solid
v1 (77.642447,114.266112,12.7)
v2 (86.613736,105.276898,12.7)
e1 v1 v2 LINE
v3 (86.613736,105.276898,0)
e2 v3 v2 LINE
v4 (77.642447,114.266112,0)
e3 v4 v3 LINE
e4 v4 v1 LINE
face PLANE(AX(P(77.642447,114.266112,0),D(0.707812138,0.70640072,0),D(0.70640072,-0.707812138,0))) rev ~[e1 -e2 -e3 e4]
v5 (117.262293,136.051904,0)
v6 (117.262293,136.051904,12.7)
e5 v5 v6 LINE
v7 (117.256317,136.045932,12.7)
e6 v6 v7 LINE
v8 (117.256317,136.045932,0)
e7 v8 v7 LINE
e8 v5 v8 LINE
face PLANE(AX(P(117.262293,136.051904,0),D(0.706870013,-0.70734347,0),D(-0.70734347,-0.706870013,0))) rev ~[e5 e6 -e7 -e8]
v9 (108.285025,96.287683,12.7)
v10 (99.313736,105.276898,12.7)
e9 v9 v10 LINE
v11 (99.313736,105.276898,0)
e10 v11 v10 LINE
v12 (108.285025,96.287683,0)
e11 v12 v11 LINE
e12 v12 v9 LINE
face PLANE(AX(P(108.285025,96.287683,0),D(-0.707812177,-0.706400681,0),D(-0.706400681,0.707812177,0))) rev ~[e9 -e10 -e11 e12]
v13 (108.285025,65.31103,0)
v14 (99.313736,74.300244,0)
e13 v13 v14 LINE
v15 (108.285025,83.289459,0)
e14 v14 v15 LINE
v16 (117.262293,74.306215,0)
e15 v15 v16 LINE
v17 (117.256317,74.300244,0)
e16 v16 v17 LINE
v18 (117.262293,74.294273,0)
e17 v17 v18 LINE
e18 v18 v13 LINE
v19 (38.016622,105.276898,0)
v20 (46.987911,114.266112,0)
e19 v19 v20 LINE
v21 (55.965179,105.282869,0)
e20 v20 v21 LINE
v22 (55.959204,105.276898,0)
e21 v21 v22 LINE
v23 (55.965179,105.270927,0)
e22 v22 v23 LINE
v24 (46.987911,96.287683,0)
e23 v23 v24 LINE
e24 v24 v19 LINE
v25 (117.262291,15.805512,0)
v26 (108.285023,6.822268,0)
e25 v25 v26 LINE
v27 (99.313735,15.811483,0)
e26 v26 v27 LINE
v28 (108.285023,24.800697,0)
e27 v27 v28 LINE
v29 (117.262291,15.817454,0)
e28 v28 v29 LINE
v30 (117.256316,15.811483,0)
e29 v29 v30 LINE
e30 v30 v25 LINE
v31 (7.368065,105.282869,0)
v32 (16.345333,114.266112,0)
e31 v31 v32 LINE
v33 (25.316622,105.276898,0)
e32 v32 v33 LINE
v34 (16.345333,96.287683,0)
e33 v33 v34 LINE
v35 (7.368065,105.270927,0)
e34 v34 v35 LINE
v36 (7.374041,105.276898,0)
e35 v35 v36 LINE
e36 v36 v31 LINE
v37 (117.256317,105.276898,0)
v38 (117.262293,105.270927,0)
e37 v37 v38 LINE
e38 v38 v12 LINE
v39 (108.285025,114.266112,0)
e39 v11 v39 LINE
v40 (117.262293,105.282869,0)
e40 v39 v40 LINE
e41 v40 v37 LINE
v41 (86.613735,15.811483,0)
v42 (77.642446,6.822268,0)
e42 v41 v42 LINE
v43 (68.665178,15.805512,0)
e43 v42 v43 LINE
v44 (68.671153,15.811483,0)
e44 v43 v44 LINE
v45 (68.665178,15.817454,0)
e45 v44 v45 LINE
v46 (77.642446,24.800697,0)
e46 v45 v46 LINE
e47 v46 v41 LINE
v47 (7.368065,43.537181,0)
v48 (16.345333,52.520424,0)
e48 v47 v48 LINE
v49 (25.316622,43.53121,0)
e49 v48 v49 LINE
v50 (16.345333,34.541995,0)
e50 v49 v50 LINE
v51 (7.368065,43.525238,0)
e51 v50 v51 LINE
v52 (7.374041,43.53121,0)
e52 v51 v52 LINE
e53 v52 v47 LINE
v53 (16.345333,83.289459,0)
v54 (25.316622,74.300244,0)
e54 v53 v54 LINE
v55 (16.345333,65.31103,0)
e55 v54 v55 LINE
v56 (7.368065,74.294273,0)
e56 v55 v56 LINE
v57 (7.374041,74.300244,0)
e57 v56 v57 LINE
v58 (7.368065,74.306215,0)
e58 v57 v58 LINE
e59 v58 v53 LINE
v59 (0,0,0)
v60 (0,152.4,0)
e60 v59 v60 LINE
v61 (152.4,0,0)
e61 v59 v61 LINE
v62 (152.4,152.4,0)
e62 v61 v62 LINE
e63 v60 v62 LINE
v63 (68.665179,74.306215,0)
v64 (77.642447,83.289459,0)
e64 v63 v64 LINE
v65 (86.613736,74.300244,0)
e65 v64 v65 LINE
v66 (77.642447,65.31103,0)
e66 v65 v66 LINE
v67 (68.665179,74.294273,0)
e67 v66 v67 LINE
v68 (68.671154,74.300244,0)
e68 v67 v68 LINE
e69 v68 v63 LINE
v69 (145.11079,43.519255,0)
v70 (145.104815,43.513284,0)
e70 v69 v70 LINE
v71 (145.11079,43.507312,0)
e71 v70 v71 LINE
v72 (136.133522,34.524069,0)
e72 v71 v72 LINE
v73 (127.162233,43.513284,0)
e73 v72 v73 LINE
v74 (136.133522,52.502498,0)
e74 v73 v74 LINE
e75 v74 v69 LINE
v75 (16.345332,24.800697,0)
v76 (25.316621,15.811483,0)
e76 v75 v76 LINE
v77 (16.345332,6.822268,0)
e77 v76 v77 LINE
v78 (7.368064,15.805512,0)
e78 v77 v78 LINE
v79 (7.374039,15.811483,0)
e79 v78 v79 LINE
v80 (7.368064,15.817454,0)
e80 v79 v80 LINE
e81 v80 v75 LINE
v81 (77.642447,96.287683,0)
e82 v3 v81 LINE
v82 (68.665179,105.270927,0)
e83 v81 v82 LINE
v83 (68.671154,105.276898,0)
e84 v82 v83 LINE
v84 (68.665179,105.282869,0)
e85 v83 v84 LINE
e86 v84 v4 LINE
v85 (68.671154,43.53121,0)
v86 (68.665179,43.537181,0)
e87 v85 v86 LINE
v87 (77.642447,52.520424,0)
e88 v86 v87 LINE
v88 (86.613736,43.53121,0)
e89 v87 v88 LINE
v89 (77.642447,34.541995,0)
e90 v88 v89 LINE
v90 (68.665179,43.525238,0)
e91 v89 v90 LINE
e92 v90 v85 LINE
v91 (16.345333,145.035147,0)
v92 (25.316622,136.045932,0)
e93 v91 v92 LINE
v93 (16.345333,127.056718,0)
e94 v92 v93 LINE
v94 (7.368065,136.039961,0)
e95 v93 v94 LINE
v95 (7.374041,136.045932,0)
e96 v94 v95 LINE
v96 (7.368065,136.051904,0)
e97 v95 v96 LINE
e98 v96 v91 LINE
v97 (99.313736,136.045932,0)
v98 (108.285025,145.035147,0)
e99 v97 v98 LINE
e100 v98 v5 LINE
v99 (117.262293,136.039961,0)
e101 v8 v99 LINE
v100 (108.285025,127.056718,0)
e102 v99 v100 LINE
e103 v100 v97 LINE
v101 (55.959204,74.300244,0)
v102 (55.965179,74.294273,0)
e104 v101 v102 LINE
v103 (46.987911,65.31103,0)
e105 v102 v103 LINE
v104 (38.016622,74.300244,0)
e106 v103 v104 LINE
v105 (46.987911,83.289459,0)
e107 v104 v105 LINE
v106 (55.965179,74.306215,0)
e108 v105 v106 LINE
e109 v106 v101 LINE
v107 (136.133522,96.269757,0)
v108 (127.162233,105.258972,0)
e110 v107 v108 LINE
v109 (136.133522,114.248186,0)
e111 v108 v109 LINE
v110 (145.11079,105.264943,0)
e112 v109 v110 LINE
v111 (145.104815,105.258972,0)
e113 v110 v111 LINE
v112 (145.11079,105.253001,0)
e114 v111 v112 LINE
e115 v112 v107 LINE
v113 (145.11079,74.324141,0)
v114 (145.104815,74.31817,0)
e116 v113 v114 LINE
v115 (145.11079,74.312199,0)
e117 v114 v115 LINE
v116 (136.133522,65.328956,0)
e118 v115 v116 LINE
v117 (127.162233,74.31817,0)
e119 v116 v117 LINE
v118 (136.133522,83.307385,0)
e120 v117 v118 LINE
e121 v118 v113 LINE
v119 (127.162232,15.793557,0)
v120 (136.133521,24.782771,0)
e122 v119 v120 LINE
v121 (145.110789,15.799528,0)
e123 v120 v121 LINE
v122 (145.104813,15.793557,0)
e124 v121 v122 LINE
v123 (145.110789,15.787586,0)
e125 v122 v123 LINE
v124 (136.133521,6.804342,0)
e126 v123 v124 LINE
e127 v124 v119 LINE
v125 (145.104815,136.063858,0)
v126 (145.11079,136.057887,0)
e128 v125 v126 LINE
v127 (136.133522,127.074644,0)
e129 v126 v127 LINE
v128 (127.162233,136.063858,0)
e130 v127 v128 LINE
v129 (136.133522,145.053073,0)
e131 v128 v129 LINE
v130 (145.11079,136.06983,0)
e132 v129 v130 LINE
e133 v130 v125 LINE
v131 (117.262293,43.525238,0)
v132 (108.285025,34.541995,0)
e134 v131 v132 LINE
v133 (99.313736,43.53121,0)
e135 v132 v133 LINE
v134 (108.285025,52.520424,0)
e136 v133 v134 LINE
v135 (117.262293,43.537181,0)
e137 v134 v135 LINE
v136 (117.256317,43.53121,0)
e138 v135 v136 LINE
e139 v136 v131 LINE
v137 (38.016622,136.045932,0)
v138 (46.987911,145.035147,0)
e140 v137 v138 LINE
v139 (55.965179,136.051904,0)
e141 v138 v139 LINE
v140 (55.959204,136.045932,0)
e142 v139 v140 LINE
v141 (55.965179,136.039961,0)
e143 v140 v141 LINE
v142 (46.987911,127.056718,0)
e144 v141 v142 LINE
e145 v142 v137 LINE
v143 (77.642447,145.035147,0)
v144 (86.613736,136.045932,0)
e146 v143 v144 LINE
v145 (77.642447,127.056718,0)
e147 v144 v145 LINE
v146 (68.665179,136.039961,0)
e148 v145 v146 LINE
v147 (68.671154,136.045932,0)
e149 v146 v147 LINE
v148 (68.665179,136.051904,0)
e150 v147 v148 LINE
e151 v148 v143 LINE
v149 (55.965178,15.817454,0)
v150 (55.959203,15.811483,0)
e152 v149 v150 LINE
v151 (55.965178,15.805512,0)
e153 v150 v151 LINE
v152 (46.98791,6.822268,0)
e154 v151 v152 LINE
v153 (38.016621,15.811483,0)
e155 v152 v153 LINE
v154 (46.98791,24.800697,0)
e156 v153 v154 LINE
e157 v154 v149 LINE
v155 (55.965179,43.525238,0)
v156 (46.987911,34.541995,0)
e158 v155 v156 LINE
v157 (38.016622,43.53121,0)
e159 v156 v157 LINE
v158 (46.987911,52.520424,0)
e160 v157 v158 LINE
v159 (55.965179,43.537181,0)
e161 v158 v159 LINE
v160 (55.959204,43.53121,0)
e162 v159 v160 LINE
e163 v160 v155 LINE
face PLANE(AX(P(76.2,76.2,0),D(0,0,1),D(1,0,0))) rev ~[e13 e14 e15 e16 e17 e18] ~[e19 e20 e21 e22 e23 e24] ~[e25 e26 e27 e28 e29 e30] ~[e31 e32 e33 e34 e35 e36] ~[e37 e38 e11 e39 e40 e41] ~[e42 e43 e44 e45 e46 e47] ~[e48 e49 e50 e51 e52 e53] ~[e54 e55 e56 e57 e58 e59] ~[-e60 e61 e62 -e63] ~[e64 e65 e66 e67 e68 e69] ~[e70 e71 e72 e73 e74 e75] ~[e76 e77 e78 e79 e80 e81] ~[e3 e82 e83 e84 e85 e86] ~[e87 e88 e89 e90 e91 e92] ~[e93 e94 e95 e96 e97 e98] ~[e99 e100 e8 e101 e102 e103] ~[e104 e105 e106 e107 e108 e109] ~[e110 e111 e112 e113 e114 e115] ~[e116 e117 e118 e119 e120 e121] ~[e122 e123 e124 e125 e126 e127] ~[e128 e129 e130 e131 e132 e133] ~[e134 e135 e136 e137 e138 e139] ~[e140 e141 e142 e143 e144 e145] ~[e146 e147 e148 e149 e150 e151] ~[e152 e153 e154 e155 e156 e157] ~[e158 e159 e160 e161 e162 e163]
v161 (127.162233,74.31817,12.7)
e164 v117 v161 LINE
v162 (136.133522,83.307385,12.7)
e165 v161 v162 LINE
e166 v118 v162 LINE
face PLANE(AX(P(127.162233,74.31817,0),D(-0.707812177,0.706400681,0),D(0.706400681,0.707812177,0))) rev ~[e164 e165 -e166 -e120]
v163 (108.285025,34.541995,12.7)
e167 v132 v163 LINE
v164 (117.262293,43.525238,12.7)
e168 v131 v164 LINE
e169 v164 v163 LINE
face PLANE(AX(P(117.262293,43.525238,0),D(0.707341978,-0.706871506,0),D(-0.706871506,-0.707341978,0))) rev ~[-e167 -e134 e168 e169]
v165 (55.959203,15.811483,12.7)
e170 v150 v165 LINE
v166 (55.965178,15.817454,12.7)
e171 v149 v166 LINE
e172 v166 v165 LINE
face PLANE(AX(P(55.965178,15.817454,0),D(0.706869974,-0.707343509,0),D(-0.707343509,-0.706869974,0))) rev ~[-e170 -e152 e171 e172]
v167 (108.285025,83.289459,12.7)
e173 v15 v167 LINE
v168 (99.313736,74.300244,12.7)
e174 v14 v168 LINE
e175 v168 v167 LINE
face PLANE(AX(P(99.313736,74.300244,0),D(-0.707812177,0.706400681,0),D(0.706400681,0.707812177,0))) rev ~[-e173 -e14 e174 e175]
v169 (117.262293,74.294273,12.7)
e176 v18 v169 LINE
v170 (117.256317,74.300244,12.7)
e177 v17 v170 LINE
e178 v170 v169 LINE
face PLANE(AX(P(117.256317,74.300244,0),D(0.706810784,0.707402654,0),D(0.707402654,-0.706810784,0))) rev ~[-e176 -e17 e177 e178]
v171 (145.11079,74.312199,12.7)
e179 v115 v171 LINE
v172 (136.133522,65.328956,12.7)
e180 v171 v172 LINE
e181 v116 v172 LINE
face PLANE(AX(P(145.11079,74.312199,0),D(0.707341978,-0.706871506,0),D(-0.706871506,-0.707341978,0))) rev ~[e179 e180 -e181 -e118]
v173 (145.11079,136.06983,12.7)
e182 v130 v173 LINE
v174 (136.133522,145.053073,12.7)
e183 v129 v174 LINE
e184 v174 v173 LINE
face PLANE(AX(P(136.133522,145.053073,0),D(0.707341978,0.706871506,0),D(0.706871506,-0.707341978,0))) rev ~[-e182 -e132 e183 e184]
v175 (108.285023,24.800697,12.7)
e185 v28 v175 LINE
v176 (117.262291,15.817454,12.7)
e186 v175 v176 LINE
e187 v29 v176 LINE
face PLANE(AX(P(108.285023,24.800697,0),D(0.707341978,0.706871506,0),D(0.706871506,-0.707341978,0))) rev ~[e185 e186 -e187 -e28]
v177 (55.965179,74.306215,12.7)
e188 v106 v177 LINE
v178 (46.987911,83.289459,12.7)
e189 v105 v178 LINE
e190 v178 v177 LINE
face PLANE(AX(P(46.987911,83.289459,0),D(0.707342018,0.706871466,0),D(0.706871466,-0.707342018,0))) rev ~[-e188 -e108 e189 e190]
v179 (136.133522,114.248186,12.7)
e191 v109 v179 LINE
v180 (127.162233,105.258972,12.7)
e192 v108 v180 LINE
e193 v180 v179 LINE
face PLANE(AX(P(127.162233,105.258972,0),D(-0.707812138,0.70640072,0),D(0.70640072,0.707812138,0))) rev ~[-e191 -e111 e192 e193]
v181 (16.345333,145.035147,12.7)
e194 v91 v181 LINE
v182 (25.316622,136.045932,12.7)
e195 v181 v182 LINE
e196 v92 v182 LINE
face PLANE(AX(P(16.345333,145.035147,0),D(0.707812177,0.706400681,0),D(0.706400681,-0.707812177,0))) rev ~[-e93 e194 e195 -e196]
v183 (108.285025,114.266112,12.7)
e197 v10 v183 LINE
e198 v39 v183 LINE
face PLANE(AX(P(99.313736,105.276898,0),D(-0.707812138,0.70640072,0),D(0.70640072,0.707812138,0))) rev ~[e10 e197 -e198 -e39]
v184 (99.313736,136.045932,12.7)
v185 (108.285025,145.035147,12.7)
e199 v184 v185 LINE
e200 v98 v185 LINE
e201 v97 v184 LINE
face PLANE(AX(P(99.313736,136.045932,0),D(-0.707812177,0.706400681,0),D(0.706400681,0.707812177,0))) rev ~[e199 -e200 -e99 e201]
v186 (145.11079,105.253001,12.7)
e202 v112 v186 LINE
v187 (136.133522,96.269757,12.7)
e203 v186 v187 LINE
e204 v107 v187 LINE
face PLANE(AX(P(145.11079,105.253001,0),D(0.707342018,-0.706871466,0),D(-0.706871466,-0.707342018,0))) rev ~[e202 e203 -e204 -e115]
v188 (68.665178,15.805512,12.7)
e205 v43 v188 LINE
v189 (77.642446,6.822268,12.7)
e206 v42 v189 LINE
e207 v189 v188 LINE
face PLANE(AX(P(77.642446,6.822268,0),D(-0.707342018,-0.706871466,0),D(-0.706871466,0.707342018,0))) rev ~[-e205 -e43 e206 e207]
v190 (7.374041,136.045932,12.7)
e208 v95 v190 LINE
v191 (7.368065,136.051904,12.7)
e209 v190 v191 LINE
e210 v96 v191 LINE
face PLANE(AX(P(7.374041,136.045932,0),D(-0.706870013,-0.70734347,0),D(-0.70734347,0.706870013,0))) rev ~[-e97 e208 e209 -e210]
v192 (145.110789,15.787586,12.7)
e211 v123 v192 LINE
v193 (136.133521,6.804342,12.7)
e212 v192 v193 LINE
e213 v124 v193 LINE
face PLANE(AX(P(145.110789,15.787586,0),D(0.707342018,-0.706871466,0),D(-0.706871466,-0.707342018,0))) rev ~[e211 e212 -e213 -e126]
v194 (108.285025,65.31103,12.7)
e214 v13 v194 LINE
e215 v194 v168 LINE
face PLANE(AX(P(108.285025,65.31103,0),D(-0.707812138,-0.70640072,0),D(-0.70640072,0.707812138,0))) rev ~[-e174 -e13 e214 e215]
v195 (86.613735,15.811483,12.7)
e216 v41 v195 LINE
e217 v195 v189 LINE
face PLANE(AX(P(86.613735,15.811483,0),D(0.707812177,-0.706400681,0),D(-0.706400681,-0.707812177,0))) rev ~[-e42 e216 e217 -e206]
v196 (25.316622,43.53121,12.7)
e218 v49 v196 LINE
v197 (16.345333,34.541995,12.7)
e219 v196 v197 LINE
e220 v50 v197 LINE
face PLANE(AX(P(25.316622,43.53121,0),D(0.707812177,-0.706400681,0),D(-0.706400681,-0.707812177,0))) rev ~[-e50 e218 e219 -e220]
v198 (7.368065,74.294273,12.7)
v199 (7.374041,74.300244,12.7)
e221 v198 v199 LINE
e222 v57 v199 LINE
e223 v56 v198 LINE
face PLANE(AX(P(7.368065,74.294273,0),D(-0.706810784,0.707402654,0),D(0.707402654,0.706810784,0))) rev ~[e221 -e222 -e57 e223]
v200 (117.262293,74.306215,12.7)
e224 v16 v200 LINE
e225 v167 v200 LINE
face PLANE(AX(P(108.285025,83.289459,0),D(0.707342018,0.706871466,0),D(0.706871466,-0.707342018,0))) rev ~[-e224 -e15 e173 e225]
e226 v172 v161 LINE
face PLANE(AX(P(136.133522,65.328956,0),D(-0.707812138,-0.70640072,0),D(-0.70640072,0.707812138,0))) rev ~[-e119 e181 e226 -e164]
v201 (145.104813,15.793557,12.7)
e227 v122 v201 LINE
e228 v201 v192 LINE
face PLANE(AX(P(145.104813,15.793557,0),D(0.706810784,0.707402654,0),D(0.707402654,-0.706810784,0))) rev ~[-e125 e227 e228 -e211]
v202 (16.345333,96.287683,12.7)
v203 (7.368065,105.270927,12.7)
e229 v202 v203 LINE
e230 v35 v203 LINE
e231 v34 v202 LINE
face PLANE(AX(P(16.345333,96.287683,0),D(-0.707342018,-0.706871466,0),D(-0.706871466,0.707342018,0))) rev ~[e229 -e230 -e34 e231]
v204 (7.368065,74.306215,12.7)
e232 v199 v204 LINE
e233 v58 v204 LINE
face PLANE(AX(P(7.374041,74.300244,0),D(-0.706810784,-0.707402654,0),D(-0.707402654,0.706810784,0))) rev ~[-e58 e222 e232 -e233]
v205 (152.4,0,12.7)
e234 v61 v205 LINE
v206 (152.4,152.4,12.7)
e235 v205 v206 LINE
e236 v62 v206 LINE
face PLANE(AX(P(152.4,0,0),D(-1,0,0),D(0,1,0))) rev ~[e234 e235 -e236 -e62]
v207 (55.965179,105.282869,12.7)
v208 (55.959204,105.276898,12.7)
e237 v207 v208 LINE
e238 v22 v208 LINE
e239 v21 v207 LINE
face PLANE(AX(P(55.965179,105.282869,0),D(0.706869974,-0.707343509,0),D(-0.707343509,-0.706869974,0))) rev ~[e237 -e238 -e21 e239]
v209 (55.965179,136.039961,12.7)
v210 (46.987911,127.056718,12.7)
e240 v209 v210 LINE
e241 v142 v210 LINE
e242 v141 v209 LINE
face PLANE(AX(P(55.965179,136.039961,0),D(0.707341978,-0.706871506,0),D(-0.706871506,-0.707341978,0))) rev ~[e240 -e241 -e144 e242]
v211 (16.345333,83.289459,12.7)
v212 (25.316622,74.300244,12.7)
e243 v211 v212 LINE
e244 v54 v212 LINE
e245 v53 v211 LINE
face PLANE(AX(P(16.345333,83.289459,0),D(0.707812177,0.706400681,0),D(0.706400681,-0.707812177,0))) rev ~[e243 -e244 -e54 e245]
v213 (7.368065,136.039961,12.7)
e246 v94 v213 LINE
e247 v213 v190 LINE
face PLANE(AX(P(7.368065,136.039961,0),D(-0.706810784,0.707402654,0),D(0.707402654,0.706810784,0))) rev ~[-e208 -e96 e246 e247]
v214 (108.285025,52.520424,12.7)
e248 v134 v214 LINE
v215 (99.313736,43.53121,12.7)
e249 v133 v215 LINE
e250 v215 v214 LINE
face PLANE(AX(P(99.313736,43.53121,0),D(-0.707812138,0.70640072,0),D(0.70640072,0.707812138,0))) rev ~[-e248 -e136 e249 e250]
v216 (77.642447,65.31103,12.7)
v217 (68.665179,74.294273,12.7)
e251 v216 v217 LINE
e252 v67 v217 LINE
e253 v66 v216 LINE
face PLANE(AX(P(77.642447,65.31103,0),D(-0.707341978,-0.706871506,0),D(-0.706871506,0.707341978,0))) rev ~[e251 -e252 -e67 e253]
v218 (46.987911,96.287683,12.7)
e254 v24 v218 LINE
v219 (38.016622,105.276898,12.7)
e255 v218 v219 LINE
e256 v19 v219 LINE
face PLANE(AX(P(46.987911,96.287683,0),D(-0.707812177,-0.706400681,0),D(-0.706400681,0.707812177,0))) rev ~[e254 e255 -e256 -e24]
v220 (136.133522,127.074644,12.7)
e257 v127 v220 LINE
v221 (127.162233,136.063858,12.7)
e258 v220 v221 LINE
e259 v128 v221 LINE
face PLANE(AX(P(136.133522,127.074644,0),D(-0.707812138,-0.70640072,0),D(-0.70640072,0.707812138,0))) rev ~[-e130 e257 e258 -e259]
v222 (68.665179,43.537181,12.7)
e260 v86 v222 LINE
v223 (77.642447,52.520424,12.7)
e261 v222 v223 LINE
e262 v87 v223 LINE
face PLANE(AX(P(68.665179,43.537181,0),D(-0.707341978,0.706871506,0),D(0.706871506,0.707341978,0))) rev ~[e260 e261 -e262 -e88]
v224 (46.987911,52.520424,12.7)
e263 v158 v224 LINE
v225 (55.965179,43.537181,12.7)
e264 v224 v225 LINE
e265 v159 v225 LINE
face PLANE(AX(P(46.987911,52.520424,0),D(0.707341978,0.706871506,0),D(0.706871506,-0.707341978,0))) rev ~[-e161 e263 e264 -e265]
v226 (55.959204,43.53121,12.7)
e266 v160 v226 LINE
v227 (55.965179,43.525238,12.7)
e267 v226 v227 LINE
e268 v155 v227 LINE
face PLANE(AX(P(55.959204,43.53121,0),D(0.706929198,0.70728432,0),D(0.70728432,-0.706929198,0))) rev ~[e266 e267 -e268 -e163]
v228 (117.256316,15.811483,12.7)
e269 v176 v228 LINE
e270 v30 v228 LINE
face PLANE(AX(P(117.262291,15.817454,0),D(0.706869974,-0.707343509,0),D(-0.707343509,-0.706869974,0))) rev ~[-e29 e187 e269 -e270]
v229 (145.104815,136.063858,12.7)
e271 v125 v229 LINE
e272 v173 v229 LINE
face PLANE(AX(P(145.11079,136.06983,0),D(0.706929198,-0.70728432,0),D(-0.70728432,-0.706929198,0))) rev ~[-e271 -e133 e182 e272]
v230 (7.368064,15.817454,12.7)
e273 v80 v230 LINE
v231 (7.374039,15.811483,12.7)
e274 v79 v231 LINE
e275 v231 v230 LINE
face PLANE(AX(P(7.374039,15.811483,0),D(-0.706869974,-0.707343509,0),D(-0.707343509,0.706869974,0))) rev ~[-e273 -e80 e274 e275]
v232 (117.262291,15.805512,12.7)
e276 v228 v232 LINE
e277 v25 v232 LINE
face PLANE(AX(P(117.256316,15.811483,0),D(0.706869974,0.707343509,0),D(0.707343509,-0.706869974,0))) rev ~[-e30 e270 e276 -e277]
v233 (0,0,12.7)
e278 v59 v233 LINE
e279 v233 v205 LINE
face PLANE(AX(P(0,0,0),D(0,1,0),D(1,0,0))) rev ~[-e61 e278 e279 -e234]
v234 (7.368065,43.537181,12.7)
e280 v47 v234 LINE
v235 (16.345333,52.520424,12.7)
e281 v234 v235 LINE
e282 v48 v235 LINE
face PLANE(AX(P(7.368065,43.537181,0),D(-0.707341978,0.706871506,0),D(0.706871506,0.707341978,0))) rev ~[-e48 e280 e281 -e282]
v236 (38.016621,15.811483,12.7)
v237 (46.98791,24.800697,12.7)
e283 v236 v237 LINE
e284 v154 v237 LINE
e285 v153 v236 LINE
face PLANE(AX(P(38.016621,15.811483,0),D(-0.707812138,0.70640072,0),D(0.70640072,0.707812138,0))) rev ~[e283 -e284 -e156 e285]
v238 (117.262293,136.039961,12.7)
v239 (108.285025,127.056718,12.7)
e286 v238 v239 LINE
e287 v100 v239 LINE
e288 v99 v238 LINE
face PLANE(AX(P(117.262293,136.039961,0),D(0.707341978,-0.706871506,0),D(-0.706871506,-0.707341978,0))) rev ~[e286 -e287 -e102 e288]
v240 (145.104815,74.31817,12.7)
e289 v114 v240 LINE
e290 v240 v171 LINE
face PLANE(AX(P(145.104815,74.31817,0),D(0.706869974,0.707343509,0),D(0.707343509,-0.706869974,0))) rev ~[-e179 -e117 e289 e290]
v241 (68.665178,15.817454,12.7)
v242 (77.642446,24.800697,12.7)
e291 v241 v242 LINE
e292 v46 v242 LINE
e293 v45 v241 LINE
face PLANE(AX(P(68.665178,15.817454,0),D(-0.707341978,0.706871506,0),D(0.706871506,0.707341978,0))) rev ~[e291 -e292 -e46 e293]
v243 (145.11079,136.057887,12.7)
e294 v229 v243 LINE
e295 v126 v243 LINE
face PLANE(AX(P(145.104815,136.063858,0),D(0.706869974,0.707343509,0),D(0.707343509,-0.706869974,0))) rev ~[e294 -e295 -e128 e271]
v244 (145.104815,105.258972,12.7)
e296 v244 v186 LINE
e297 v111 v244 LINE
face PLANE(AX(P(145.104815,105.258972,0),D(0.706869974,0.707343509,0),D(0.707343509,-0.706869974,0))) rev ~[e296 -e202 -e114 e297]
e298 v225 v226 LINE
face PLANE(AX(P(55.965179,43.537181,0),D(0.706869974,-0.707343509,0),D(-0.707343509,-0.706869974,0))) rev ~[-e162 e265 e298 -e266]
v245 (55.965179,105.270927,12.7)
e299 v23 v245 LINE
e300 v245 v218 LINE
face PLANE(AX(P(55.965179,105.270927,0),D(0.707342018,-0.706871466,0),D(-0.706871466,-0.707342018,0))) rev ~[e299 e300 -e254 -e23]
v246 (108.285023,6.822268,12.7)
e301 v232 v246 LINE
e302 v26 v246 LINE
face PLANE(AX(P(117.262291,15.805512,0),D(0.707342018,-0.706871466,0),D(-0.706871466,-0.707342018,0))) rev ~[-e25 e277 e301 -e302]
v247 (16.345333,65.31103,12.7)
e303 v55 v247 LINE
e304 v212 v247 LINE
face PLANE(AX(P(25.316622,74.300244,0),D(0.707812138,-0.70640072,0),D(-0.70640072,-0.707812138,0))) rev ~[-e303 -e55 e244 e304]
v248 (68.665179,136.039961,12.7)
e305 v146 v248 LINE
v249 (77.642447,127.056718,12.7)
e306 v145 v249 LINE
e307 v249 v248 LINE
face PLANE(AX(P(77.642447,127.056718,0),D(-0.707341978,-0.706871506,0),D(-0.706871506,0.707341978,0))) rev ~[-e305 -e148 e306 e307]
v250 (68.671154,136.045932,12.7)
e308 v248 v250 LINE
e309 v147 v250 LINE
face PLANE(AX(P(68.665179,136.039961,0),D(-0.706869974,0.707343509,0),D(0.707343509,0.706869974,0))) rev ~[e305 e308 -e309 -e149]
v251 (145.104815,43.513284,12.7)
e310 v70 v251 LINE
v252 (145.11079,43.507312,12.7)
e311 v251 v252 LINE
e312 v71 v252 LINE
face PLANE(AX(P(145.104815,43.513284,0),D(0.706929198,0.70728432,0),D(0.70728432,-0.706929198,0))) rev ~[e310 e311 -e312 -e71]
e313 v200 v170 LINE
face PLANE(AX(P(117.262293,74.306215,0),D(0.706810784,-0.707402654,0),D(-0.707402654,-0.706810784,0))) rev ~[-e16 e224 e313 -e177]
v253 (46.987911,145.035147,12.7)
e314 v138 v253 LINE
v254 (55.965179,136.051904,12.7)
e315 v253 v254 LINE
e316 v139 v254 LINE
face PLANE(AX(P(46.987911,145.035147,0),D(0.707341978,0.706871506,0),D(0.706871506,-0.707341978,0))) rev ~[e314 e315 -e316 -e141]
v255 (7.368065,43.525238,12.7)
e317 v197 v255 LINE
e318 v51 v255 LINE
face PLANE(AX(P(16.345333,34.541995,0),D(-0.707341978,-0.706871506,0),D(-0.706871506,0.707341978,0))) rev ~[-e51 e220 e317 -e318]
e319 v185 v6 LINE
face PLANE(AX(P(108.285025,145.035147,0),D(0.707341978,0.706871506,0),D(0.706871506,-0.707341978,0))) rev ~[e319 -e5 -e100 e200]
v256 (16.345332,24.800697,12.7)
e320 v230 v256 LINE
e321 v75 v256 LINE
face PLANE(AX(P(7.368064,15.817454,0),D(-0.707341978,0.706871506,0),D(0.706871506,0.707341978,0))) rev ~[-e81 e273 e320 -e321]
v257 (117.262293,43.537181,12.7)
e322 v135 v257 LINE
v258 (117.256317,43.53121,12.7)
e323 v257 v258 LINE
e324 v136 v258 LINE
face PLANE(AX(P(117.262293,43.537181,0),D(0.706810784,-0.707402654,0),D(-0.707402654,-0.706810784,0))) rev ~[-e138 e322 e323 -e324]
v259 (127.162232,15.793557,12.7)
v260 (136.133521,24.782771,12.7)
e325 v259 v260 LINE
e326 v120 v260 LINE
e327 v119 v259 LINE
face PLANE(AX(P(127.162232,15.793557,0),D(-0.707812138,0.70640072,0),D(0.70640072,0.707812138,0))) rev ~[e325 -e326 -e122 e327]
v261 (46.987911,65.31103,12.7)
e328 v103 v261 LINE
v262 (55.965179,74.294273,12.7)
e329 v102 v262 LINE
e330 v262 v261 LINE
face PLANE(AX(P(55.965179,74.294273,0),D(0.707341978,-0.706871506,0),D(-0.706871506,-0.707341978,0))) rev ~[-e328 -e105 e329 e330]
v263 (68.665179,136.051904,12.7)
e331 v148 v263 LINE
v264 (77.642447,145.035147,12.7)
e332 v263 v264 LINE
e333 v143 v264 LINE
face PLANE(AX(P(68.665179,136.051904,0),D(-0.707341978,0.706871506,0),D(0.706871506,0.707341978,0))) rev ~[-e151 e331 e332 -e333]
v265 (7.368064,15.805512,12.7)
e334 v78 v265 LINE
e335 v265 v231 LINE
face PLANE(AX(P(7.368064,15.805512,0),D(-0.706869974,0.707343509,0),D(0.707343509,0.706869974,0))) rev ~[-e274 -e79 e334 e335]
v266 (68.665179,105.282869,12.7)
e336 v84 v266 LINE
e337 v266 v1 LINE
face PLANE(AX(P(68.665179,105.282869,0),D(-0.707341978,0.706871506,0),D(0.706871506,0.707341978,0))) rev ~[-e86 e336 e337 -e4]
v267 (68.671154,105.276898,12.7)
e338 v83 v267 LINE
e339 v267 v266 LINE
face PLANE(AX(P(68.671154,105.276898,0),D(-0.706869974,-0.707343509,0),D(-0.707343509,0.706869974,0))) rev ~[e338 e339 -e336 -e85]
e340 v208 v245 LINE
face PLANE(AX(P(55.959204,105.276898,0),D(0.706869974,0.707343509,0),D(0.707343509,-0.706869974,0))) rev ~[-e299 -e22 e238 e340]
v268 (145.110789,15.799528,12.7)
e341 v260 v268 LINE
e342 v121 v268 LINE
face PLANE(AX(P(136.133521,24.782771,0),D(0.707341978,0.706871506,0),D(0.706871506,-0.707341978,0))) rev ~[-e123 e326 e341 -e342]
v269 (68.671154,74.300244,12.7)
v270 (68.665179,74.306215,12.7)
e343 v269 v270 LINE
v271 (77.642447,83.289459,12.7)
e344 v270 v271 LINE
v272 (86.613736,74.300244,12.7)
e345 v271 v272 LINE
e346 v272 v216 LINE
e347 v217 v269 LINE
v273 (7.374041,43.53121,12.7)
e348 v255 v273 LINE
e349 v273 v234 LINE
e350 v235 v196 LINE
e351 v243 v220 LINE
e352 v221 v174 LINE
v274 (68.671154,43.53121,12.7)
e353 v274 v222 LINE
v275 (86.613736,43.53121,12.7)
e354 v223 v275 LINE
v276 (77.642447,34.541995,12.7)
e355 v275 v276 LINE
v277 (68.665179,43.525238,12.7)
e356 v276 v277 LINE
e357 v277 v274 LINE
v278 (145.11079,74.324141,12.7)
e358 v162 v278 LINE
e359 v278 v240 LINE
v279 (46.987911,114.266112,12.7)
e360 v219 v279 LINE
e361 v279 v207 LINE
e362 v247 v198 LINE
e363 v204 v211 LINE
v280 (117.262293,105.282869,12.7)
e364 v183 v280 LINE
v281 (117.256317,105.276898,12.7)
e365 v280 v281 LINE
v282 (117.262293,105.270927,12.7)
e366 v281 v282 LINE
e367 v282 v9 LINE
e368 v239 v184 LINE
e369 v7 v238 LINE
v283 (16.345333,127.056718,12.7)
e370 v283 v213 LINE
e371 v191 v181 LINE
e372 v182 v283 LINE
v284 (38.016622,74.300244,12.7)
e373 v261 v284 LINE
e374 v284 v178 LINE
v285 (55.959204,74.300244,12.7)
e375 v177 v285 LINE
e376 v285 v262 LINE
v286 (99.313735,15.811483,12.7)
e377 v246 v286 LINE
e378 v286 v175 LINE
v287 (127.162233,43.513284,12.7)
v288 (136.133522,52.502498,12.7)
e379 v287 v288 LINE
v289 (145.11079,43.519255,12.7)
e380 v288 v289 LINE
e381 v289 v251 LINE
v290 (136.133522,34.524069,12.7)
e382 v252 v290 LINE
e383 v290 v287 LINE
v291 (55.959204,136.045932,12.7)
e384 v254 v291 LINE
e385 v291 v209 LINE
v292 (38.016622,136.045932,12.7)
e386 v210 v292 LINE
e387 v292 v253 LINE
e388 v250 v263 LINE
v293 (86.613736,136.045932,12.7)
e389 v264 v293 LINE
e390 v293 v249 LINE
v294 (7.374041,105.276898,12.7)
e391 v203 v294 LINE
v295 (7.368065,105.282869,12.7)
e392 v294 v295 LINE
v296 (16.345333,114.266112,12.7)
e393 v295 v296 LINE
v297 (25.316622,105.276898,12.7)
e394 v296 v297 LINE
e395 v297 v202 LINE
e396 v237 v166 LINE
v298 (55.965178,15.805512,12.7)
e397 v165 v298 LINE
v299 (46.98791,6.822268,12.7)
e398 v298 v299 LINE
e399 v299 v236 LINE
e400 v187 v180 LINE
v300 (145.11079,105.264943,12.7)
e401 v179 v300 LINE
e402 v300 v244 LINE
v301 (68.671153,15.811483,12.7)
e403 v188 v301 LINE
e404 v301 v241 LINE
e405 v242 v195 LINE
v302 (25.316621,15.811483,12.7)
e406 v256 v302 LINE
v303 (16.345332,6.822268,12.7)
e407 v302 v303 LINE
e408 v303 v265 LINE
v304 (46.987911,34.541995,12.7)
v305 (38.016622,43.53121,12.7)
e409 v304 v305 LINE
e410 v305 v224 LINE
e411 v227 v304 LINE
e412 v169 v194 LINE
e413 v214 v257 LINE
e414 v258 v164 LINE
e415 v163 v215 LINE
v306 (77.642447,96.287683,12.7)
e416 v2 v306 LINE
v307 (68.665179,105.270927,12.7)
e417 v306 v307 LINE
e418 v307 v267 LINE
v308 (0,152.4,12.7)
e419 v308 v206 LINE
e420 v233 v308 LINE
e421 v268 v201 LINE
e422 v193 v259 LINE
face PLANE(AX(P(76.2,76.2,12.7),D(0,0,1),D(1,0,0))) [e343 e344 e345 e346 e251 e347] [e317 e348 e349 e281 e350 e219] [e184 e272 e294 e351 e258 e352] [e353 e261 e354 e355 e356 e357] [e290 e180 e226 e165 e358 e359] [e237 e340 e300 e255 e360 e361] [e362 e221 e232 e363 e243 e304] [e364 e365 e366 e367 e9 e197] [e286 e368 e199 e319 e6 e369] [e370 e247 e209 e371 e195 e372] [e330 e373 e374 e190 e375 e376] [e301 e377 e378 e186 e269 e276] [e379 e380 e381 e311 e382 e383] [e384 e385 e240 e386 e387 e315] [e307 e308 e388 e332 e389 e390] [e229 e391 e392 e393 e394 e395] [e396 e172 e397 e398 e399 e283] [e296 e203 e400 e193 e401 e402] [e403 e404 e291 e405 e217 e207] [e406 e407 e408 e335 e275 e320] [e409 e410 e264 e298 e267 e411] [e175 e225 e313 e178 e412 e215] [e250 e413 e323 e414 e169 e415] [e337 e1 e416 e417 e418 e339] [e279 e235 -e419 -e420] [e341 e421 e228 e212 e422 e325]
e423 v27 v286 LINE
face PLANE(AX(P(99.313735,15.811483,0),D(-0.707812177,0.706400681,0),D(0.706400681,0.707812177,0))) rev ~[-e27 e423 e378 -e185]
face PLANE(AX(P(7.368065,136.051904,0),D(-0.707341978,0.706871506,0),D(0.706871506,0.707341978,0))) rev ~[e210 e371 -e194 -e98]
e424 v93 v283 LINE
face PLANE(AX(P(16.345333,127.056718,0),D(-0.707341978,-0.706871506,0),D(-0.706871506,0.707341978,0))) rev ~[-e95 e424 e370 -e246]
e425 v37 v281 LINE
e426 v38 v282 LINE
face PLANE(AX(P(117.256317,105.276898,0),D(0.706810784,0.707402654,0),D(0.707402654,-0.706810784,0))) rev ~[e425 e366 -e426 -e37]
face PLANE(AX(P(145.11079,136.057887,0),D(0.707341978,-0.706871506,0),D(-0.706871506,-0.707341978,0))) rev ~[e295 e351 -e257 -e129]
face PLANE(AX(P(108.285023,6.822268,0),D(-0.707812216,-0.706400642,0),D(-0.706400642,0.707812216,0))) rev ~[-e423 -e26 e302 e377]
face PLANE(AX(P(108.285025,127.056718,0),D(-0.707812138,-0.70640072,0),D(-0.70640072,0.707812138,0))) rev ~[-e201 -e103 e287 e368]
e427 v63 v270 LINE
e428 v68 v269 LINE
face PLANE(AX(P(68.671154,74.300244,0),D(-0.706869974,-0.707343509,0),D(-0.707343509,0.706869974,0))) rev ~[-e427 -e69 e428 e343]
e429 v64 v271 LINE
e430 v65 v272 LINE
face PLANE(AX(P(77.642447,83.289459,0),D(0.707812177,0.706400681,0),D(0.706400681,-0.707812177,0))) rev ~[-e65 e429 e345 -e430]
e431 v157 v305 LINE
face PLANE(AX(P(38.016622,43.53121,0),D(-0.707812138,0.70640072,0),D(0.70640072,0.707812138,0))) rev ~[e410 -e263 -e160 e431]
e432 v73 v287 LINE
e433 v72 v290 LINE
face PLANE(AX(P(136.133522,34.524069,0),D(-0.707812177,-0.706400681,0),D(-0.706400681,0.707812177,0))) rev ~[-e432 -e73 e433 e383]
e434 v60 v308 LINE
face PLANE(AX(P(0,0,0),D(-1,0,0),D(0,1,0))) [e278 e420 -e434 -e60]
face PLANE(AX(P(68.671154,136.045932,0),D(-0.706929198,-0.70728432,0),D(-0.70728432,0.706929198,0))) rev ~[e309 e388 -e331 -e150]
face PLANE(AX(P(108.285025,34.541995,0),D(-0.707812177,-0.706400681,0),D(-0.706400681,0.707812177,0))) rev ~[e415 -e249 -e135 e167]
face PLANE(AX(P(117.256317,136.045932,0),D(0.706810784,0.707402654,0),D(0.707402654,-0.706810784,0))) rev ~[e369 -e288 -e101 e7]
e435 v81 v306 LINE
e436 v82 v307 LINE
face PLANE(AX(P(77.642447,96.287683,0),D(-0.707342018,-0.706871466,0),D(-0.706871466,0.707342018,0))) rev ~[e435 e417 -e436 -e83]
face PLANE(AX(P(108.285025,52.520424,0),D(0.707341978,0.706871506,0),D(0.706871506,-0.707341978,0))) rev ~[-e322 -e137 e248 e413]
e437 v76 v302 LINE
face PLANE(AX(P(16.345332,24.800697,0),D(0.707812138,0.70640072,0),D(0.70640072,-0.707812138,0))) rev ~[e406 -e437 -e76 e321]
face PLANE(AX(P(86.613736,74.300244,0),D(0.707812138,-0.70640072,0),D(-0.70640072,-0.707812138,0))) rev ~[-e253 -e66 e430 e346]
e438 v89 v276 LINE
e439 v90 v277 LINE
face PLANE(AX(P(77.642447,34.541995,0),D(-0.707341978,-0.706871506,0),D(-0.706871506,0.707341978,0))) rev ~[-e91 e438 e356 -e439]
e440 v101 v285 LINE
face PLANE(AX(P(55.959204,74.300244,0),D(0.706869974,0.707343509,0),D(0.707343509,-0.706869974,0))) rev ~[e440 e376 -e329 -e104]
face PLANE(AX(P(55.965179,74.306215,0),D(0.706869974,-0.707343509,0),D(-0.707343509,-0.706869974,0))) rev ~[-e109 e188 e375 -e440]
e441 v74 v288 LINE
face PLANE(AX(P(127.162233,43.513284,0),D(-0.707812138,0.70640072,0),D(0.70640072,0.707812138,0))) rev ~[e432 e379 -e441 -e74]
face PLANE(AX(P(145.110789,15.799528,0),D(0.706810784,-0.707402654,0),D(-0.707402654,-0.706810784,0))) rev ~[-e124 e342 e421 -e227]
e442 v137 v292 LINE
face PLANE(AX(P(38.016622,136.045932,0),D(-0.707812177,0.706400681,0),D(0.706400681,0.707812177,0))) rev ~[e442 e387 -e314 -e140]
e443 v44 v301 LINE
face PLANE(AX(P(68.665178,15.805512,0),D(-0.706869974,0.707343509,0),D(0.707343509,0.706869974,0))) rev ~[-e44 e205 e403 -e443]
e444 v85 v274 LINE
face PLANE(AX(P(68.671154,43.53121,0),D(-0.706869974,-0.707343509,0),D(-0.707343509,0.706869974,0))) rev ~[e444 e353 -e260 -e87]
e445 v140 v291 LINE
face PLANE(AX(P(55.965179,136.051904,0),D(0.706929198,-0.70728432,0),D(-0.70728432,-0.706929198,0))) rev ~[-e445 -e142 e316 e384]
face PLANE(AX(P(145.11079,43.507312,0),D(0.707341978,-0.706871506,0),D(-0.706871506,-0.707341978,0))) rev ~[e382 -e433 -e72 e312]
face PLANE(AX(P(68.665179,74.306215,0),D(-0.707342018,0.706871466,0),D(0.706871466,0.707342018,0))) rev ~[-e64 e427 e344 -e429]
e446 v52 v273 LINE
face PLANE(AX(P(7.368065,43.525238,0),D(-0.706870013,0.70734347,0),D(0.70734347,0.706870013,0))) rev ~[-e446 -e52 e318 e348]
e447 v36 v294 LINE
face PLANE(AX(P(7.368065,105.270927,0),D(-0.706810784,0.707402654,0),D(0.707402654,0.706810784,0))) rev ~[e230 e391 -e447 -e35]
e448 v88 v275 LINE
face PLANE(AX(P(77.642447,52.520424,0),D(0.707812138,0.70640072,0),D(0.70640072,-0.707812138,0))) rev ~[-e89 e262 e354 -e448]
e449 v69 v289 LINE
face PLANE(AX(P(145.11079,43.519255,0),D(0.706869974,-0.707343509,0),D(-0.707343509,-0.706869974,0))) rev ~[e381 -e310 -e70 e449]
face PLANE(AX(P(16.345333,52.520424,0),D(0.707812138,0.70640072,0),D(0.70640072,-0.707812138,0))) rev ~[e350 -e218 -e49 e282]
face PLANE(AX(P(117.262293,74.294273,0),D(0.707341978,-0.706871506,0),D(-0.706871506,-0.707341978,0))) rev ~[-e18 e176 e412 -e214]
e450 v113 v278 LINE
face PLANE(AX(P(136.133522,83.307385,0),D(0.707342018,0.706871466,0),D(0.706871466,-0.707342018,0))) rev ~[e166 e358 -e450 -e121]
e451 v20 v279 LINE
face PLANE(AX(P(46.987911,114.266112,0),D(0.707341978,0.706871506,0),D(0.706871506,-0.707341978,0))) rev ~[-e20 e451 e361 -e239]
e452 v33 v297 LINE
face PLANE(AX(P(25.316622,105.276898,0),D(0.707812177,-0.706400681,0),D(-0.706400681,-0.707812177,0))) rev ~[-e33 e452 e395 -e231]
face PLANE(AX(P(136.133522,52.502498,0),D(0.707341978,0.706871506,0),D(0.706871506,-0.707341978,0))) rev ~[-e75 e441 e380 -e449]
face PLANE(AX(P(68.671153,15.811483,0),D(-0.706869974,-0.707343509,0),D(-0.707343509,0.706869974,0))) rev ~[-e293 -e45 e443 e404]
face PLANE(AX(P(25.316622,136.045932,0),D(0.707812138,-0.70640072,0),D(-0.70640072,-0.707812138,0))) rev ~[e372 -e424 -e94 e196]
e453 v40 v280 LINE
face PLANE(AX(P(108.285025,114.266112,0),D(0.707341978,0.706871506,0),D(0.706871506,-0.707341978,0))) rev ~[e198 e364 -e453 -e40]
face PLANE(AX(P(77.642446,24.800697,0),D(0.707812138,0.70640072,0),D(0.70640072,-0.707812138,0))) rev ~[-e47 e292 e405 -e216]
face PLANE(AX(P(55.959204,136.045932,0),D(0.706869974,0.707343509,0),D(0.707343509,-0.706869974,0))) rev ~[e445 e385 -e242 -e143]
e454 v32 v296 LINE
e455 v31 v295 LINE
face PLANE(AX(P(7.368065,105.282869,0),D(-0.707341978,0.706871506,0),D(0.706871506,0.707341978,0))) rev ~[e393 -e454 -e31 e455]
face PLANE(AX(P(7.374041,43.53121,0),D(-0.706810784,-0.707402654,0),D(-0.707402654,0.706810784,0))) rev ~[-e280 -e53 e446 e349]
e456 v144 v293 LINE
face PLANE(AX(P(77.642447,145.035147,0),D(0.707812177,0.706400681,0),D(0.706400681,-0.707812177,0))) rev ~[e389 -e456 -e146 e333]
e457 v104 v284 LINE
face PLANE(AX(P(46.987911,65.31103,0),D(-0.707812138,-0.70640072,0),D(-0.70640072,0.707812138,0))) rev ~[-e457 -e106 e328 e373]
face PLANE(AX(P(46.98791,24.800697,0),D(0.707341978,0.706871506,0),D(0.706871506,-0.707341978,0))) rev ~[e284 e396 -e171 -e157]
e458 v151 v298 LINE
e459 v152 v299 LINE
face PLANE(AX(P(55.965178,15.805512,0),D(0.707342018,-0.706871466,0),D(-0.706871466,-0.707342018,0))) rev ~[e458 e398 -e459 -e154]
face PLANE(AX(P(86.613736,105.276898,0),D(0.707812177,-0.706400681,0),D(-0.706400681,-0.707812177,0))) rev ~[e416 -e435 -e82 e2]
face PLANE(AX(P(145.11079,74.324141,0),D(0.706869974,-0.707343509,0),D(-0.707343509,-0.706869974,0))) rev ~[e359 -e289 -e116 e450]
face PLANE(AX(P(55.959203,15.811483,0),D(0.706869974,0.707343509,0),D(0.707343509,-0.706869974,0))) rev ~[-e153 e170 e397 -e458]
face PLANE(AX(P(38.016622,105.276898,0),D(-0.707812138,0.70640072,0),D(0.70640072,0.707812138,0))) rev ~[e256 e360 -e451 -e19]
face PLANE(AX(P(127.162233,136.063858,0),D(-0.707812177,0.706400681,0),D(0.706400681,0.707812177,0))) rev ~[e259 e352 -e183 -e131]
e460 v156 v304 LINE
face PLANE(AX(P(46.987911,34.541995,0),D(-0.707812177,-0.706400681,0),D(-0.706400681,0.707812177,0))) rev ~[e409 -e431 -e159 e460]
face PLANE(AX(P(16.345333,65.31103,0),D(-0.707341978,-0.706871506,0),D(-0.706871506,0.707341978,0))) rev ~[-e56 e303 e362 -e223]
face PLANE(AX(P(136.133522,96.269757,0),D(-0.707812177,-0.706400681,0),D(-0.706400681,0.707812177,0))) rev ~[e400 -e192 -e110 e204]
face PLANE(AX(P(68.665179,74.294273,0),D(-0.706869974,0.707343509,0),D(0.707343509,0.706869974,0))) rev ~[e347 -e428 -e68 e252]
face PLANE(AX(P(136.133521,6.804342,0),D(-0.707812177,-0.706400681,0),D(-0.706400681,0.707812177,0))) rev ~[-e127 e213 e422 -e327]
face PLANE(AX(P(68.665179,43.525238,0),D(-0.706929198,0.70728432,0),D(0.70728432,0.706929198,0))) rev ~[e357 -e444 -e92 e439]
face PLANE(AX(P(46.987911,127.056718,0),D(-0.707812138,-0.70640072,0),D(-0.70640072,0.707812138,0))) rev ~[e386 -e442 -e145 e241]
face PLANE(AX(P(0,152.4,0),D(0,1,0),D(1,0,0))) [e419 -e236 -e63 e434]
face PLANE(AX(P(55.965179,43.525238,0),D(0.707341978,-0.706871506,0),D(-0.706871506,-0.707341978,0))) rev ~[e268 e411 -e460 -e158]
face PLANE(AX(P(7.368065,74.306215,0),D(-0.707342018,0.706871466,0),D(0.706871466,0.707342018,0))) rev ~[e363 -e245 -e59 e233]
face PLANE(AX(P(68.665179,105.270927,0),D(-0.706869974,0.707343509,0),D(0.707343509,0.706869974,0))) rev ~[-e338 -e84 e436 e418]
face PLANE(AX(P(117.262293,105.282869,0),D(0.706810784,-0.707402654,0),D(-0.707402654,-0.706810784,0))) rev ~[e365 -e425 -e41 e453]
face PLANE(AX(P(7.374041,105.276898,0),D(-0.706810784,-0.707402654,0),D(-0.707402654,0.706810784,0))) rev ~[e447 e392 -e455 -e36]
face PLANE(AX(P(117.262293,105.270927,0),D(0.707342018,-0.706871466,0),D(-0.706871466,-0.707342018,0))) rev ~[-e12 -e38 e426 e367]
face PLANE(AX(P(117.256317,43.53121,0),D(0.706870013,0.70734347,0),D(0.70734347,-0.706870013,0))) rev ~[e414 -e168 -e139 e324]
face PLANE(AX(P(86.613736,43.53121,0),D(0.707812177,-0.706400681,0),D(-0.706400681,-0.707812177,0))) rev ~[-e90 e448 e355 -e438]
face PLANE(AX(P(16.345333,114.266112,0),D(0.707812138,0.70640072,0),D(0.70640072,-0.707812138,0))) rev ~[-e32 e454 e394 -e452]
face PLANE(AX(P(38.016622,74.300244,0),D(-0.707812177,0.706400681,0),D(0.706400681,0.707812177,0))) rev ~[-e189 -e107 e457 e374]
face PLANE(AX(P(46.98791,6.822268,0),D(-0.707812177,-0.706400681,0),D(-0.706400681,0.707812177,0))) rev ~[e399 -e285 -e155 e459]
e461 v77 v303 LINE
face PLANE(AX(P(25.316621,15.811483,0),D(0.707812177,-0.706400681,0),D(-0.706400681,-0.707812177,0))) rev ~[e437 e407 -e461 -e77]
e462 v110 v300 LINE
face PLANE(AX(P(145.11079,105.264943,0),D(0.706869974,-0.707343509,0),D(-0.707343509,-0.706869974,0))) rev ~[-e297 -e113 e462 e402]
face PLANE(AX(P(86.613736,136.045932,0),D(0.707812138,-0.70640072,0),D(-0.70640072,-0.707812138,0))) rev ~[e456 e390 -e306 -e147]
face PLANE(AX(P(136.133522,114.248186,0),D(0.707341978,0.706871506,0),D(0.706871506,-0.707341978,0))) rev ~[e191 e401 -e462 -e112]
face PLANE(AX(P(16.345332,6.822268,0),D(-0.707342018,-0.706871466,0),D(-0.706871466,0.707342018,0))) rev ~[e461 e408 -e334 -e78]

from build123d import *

# Parameters (mm, degrees)
F0_W     = 152.4
F0_H     = 152.4
F1_DEPTH = 12.7


with BuildPart() as f1:
    # F0 (on Top) → F1 (new body)
    with BuildSketch(Plane.XY):
        with Locations((76.2, 76.2)):
            Rectangle(F0_W, F0_H)
        Polygon((16.345332, 24.800697), (25.316621, 15.811483), (16.345332, 6.822268), (7.368064, 15.805512), (7.374039, 15.811483), (7.368064, 15.817454), align=None, mode=Mode.SUBTRACT)
        Polygon((16.345333, 52.520424), (25.316622, 43.53121), (16.345333, 34.541995), (7.368065, 43.525238), (7.374041, 43.53121), (7.368065, 43.537181), align=None, mode=Mode.SUBTRACT)
        Polygon((55.959203, 15.811483), (55.965178, 15.805512), (46.98791, 6.822268), (38.016621, 15.811483), (46.98791, 24.800697), (55.965178, 15.817454), align=None, mode=Mode.SUBTRACT)
        Polygon((77.642446, 24.800697), (86.613735, 15.811483), (77.642446, 6.822268), (68.665178, 15.805512), (68.671153, 15.811483), (68.665178, 15.817454), align=None, mode=Mode.SUBTRACT)
        Polygon((108.285023, 6.822268), (99.313735, 15.811483), (108.285023, 24.800697), (117.262291, 15.817454), (117.256316, 15.811483), (117.262291, 15.805512), align=None, mode=Mode.SUBTRACT)
        Polygon((145.104813, 15.793557), (145.110789, 15.787586), (136.133521, 6.804342), (127.162232, 15.793557), (136.133521, 24.782771), (145.110789, 15.799528), align=None, mode=Mode.SUBTRACT)
        Polygon((55.959204, 43.53121), (55.965179, 43.525238), (46.987911, 34.541995), (38.016622, 43.53121), (46.987911, 52.520424), (55.965179, 43.537181), align=None, mode=Mode.SUBTRACT)
        Polygon((77.642447, 52.520424), (86.613736, 43.53121), (77.642447, 34.541995), (68.665179, 43.525238), (68.671154, 43.53121), (68.665179, 43.537181), align=None, mode=Mode.SUBTRACT)
        Polygon((108.285025, 34.541995), (99.313736, 43.53121), (108.285025, 52.520424), (117.262293, 43.537181), (117.256317, 43.53121), (117.262293, 43.525238), align=None, mode=Mode.SUBTRACT)
        Polygon((145.104815, 43.513284), (145.11079, 43.507312), (136.133522, 34.524069), (127.162233, 43.513284), (136.133522, 52.502498), (145.11079, 43.519255), align=None, mode=Mode.SUBTRACT)
        Polygon((16.345333, 83.289459), (25.316622, 74.300244), (16.345333, 65.31103), (7.368065, 74.294273), (7.374041, 74.300244), (7.368065, 74.306215), align=None, mode=Mode.SUBTRACT)
        Polygon((16.345333, 114.266112), (25.316622, 105.276898), (16.345333, 96.287683), (7.368065, 105.270927), (7.374041, 105.276898), (7.368065, 105.282869), align=None, mode=Mode.SUBTRACT)
        Polygon((25.316622, 136.045932), (16.345333, 127.056718), (7.368065, 136.039961), (7.374041, 136.045932), (7.368065, 136.051904), (16.345333, 145.035147), align=None, mode=Mode.SUBTRACT)
        Polygon((38.016622, 74.300244), (46.987911, 83.289459), (55.965179, 74.306215), (55.959204, 74.300244), (55.965179, 74.294273), (46.987911, 65.31103), align=None, mode=Mode.SUBTRACT)
        Polygon((68.665179, 74.306215), (77.642447, 83.289459), (86.613736, 74.300244), (77.642447, 65.31103), (68.665179, 74.294273), (68.671154, 74.300244), align=None, mode=Mode.SUBTRACT)
        Polygon((46.987911, 96.287683), (38.016622, 105.276898), (46.987911, 114.266112), (55.965179, 105.282869), (55.959204, 105.276898), (55.965179, 105.270927), align=None, mode=Mode.SUBTRACT)
        Polygon((77.642447, 114.266112), (86.613736, 105.276898), (77.642447, 96.287683), (68.665179, 105.270927), (68.671154, 105.276898), (68.665179, 105.282869), align=None, mode=Mode.SUBTRACT)
        Polygon((108.285025, 65.31103), (99.313736, 74.300244), (108.285025, 83.289459), (117.262293, 74.306215), (117.256317, 74.300244), (117.262293, 74.294273), align=None, mode=Mode.SUBTRACT)
        Polygon((136.133522, 65.328956), (127.162233, 74.31817), (136.133522, 83.307385), (145.11079, 74.324141), (145.104815, 74.31817), (145.11079, 74.312199), align=None, mode=Mode.SUBTRACT)
        Polygon((108.285025, 114.266112), (117.262293, 105.282869), (117.256317, 105.276898), (117.262293, 105.270927), (108.285025, 96.287683), (99.313736, 105.276898), align=None, mode=Mode.SUBTRACT)
        Polygon((136.133522, 114.248186), (145.11079, 105.264943), (145.104815, 105.258972), (145.11079, 105.253001), (136.133522, 96.269757), (127.162233, 105.258972), align=None, mode=Mode.SUBTRACT)
        Polygon((46.987911, 127.056718), (38.016622, 136.045932), (46.987911, 145.035147), (55.965179, 136.051904), (55.959204, 136.045932), (55.965179, 136.039961), align=None, mode=Mode.SUBTRACT)
        Polygon((77.642447, 127.056718), (68.665179, 136.039961), (68.671154, 136.045932), (68.665179, 136.051904), (77.642447, 145.035147), (86.613736, 136.045932), align=None, mode=Mode.SUBTRACT)
        Polygon((108.285025, 127.056718), (99.313736, 136.045932), (108.285025, 145.035147), (117.262293, 136.051904), (117.256317, 136.045932), (117.262293, 136.039961), align=None, mode=Mode.SUBTRACT)
        Polygon((136.133522, 127.074644), (127.162233, 136.063858), (136.133522, 145.053073), (145.11079, 136.06983), (145.104815, 136.063858), (145.11079, 136.057887), align=None, mode=Mode.SUBTRACT)
    extrude(amount=F1_DEPTH)


solid = f1.part
